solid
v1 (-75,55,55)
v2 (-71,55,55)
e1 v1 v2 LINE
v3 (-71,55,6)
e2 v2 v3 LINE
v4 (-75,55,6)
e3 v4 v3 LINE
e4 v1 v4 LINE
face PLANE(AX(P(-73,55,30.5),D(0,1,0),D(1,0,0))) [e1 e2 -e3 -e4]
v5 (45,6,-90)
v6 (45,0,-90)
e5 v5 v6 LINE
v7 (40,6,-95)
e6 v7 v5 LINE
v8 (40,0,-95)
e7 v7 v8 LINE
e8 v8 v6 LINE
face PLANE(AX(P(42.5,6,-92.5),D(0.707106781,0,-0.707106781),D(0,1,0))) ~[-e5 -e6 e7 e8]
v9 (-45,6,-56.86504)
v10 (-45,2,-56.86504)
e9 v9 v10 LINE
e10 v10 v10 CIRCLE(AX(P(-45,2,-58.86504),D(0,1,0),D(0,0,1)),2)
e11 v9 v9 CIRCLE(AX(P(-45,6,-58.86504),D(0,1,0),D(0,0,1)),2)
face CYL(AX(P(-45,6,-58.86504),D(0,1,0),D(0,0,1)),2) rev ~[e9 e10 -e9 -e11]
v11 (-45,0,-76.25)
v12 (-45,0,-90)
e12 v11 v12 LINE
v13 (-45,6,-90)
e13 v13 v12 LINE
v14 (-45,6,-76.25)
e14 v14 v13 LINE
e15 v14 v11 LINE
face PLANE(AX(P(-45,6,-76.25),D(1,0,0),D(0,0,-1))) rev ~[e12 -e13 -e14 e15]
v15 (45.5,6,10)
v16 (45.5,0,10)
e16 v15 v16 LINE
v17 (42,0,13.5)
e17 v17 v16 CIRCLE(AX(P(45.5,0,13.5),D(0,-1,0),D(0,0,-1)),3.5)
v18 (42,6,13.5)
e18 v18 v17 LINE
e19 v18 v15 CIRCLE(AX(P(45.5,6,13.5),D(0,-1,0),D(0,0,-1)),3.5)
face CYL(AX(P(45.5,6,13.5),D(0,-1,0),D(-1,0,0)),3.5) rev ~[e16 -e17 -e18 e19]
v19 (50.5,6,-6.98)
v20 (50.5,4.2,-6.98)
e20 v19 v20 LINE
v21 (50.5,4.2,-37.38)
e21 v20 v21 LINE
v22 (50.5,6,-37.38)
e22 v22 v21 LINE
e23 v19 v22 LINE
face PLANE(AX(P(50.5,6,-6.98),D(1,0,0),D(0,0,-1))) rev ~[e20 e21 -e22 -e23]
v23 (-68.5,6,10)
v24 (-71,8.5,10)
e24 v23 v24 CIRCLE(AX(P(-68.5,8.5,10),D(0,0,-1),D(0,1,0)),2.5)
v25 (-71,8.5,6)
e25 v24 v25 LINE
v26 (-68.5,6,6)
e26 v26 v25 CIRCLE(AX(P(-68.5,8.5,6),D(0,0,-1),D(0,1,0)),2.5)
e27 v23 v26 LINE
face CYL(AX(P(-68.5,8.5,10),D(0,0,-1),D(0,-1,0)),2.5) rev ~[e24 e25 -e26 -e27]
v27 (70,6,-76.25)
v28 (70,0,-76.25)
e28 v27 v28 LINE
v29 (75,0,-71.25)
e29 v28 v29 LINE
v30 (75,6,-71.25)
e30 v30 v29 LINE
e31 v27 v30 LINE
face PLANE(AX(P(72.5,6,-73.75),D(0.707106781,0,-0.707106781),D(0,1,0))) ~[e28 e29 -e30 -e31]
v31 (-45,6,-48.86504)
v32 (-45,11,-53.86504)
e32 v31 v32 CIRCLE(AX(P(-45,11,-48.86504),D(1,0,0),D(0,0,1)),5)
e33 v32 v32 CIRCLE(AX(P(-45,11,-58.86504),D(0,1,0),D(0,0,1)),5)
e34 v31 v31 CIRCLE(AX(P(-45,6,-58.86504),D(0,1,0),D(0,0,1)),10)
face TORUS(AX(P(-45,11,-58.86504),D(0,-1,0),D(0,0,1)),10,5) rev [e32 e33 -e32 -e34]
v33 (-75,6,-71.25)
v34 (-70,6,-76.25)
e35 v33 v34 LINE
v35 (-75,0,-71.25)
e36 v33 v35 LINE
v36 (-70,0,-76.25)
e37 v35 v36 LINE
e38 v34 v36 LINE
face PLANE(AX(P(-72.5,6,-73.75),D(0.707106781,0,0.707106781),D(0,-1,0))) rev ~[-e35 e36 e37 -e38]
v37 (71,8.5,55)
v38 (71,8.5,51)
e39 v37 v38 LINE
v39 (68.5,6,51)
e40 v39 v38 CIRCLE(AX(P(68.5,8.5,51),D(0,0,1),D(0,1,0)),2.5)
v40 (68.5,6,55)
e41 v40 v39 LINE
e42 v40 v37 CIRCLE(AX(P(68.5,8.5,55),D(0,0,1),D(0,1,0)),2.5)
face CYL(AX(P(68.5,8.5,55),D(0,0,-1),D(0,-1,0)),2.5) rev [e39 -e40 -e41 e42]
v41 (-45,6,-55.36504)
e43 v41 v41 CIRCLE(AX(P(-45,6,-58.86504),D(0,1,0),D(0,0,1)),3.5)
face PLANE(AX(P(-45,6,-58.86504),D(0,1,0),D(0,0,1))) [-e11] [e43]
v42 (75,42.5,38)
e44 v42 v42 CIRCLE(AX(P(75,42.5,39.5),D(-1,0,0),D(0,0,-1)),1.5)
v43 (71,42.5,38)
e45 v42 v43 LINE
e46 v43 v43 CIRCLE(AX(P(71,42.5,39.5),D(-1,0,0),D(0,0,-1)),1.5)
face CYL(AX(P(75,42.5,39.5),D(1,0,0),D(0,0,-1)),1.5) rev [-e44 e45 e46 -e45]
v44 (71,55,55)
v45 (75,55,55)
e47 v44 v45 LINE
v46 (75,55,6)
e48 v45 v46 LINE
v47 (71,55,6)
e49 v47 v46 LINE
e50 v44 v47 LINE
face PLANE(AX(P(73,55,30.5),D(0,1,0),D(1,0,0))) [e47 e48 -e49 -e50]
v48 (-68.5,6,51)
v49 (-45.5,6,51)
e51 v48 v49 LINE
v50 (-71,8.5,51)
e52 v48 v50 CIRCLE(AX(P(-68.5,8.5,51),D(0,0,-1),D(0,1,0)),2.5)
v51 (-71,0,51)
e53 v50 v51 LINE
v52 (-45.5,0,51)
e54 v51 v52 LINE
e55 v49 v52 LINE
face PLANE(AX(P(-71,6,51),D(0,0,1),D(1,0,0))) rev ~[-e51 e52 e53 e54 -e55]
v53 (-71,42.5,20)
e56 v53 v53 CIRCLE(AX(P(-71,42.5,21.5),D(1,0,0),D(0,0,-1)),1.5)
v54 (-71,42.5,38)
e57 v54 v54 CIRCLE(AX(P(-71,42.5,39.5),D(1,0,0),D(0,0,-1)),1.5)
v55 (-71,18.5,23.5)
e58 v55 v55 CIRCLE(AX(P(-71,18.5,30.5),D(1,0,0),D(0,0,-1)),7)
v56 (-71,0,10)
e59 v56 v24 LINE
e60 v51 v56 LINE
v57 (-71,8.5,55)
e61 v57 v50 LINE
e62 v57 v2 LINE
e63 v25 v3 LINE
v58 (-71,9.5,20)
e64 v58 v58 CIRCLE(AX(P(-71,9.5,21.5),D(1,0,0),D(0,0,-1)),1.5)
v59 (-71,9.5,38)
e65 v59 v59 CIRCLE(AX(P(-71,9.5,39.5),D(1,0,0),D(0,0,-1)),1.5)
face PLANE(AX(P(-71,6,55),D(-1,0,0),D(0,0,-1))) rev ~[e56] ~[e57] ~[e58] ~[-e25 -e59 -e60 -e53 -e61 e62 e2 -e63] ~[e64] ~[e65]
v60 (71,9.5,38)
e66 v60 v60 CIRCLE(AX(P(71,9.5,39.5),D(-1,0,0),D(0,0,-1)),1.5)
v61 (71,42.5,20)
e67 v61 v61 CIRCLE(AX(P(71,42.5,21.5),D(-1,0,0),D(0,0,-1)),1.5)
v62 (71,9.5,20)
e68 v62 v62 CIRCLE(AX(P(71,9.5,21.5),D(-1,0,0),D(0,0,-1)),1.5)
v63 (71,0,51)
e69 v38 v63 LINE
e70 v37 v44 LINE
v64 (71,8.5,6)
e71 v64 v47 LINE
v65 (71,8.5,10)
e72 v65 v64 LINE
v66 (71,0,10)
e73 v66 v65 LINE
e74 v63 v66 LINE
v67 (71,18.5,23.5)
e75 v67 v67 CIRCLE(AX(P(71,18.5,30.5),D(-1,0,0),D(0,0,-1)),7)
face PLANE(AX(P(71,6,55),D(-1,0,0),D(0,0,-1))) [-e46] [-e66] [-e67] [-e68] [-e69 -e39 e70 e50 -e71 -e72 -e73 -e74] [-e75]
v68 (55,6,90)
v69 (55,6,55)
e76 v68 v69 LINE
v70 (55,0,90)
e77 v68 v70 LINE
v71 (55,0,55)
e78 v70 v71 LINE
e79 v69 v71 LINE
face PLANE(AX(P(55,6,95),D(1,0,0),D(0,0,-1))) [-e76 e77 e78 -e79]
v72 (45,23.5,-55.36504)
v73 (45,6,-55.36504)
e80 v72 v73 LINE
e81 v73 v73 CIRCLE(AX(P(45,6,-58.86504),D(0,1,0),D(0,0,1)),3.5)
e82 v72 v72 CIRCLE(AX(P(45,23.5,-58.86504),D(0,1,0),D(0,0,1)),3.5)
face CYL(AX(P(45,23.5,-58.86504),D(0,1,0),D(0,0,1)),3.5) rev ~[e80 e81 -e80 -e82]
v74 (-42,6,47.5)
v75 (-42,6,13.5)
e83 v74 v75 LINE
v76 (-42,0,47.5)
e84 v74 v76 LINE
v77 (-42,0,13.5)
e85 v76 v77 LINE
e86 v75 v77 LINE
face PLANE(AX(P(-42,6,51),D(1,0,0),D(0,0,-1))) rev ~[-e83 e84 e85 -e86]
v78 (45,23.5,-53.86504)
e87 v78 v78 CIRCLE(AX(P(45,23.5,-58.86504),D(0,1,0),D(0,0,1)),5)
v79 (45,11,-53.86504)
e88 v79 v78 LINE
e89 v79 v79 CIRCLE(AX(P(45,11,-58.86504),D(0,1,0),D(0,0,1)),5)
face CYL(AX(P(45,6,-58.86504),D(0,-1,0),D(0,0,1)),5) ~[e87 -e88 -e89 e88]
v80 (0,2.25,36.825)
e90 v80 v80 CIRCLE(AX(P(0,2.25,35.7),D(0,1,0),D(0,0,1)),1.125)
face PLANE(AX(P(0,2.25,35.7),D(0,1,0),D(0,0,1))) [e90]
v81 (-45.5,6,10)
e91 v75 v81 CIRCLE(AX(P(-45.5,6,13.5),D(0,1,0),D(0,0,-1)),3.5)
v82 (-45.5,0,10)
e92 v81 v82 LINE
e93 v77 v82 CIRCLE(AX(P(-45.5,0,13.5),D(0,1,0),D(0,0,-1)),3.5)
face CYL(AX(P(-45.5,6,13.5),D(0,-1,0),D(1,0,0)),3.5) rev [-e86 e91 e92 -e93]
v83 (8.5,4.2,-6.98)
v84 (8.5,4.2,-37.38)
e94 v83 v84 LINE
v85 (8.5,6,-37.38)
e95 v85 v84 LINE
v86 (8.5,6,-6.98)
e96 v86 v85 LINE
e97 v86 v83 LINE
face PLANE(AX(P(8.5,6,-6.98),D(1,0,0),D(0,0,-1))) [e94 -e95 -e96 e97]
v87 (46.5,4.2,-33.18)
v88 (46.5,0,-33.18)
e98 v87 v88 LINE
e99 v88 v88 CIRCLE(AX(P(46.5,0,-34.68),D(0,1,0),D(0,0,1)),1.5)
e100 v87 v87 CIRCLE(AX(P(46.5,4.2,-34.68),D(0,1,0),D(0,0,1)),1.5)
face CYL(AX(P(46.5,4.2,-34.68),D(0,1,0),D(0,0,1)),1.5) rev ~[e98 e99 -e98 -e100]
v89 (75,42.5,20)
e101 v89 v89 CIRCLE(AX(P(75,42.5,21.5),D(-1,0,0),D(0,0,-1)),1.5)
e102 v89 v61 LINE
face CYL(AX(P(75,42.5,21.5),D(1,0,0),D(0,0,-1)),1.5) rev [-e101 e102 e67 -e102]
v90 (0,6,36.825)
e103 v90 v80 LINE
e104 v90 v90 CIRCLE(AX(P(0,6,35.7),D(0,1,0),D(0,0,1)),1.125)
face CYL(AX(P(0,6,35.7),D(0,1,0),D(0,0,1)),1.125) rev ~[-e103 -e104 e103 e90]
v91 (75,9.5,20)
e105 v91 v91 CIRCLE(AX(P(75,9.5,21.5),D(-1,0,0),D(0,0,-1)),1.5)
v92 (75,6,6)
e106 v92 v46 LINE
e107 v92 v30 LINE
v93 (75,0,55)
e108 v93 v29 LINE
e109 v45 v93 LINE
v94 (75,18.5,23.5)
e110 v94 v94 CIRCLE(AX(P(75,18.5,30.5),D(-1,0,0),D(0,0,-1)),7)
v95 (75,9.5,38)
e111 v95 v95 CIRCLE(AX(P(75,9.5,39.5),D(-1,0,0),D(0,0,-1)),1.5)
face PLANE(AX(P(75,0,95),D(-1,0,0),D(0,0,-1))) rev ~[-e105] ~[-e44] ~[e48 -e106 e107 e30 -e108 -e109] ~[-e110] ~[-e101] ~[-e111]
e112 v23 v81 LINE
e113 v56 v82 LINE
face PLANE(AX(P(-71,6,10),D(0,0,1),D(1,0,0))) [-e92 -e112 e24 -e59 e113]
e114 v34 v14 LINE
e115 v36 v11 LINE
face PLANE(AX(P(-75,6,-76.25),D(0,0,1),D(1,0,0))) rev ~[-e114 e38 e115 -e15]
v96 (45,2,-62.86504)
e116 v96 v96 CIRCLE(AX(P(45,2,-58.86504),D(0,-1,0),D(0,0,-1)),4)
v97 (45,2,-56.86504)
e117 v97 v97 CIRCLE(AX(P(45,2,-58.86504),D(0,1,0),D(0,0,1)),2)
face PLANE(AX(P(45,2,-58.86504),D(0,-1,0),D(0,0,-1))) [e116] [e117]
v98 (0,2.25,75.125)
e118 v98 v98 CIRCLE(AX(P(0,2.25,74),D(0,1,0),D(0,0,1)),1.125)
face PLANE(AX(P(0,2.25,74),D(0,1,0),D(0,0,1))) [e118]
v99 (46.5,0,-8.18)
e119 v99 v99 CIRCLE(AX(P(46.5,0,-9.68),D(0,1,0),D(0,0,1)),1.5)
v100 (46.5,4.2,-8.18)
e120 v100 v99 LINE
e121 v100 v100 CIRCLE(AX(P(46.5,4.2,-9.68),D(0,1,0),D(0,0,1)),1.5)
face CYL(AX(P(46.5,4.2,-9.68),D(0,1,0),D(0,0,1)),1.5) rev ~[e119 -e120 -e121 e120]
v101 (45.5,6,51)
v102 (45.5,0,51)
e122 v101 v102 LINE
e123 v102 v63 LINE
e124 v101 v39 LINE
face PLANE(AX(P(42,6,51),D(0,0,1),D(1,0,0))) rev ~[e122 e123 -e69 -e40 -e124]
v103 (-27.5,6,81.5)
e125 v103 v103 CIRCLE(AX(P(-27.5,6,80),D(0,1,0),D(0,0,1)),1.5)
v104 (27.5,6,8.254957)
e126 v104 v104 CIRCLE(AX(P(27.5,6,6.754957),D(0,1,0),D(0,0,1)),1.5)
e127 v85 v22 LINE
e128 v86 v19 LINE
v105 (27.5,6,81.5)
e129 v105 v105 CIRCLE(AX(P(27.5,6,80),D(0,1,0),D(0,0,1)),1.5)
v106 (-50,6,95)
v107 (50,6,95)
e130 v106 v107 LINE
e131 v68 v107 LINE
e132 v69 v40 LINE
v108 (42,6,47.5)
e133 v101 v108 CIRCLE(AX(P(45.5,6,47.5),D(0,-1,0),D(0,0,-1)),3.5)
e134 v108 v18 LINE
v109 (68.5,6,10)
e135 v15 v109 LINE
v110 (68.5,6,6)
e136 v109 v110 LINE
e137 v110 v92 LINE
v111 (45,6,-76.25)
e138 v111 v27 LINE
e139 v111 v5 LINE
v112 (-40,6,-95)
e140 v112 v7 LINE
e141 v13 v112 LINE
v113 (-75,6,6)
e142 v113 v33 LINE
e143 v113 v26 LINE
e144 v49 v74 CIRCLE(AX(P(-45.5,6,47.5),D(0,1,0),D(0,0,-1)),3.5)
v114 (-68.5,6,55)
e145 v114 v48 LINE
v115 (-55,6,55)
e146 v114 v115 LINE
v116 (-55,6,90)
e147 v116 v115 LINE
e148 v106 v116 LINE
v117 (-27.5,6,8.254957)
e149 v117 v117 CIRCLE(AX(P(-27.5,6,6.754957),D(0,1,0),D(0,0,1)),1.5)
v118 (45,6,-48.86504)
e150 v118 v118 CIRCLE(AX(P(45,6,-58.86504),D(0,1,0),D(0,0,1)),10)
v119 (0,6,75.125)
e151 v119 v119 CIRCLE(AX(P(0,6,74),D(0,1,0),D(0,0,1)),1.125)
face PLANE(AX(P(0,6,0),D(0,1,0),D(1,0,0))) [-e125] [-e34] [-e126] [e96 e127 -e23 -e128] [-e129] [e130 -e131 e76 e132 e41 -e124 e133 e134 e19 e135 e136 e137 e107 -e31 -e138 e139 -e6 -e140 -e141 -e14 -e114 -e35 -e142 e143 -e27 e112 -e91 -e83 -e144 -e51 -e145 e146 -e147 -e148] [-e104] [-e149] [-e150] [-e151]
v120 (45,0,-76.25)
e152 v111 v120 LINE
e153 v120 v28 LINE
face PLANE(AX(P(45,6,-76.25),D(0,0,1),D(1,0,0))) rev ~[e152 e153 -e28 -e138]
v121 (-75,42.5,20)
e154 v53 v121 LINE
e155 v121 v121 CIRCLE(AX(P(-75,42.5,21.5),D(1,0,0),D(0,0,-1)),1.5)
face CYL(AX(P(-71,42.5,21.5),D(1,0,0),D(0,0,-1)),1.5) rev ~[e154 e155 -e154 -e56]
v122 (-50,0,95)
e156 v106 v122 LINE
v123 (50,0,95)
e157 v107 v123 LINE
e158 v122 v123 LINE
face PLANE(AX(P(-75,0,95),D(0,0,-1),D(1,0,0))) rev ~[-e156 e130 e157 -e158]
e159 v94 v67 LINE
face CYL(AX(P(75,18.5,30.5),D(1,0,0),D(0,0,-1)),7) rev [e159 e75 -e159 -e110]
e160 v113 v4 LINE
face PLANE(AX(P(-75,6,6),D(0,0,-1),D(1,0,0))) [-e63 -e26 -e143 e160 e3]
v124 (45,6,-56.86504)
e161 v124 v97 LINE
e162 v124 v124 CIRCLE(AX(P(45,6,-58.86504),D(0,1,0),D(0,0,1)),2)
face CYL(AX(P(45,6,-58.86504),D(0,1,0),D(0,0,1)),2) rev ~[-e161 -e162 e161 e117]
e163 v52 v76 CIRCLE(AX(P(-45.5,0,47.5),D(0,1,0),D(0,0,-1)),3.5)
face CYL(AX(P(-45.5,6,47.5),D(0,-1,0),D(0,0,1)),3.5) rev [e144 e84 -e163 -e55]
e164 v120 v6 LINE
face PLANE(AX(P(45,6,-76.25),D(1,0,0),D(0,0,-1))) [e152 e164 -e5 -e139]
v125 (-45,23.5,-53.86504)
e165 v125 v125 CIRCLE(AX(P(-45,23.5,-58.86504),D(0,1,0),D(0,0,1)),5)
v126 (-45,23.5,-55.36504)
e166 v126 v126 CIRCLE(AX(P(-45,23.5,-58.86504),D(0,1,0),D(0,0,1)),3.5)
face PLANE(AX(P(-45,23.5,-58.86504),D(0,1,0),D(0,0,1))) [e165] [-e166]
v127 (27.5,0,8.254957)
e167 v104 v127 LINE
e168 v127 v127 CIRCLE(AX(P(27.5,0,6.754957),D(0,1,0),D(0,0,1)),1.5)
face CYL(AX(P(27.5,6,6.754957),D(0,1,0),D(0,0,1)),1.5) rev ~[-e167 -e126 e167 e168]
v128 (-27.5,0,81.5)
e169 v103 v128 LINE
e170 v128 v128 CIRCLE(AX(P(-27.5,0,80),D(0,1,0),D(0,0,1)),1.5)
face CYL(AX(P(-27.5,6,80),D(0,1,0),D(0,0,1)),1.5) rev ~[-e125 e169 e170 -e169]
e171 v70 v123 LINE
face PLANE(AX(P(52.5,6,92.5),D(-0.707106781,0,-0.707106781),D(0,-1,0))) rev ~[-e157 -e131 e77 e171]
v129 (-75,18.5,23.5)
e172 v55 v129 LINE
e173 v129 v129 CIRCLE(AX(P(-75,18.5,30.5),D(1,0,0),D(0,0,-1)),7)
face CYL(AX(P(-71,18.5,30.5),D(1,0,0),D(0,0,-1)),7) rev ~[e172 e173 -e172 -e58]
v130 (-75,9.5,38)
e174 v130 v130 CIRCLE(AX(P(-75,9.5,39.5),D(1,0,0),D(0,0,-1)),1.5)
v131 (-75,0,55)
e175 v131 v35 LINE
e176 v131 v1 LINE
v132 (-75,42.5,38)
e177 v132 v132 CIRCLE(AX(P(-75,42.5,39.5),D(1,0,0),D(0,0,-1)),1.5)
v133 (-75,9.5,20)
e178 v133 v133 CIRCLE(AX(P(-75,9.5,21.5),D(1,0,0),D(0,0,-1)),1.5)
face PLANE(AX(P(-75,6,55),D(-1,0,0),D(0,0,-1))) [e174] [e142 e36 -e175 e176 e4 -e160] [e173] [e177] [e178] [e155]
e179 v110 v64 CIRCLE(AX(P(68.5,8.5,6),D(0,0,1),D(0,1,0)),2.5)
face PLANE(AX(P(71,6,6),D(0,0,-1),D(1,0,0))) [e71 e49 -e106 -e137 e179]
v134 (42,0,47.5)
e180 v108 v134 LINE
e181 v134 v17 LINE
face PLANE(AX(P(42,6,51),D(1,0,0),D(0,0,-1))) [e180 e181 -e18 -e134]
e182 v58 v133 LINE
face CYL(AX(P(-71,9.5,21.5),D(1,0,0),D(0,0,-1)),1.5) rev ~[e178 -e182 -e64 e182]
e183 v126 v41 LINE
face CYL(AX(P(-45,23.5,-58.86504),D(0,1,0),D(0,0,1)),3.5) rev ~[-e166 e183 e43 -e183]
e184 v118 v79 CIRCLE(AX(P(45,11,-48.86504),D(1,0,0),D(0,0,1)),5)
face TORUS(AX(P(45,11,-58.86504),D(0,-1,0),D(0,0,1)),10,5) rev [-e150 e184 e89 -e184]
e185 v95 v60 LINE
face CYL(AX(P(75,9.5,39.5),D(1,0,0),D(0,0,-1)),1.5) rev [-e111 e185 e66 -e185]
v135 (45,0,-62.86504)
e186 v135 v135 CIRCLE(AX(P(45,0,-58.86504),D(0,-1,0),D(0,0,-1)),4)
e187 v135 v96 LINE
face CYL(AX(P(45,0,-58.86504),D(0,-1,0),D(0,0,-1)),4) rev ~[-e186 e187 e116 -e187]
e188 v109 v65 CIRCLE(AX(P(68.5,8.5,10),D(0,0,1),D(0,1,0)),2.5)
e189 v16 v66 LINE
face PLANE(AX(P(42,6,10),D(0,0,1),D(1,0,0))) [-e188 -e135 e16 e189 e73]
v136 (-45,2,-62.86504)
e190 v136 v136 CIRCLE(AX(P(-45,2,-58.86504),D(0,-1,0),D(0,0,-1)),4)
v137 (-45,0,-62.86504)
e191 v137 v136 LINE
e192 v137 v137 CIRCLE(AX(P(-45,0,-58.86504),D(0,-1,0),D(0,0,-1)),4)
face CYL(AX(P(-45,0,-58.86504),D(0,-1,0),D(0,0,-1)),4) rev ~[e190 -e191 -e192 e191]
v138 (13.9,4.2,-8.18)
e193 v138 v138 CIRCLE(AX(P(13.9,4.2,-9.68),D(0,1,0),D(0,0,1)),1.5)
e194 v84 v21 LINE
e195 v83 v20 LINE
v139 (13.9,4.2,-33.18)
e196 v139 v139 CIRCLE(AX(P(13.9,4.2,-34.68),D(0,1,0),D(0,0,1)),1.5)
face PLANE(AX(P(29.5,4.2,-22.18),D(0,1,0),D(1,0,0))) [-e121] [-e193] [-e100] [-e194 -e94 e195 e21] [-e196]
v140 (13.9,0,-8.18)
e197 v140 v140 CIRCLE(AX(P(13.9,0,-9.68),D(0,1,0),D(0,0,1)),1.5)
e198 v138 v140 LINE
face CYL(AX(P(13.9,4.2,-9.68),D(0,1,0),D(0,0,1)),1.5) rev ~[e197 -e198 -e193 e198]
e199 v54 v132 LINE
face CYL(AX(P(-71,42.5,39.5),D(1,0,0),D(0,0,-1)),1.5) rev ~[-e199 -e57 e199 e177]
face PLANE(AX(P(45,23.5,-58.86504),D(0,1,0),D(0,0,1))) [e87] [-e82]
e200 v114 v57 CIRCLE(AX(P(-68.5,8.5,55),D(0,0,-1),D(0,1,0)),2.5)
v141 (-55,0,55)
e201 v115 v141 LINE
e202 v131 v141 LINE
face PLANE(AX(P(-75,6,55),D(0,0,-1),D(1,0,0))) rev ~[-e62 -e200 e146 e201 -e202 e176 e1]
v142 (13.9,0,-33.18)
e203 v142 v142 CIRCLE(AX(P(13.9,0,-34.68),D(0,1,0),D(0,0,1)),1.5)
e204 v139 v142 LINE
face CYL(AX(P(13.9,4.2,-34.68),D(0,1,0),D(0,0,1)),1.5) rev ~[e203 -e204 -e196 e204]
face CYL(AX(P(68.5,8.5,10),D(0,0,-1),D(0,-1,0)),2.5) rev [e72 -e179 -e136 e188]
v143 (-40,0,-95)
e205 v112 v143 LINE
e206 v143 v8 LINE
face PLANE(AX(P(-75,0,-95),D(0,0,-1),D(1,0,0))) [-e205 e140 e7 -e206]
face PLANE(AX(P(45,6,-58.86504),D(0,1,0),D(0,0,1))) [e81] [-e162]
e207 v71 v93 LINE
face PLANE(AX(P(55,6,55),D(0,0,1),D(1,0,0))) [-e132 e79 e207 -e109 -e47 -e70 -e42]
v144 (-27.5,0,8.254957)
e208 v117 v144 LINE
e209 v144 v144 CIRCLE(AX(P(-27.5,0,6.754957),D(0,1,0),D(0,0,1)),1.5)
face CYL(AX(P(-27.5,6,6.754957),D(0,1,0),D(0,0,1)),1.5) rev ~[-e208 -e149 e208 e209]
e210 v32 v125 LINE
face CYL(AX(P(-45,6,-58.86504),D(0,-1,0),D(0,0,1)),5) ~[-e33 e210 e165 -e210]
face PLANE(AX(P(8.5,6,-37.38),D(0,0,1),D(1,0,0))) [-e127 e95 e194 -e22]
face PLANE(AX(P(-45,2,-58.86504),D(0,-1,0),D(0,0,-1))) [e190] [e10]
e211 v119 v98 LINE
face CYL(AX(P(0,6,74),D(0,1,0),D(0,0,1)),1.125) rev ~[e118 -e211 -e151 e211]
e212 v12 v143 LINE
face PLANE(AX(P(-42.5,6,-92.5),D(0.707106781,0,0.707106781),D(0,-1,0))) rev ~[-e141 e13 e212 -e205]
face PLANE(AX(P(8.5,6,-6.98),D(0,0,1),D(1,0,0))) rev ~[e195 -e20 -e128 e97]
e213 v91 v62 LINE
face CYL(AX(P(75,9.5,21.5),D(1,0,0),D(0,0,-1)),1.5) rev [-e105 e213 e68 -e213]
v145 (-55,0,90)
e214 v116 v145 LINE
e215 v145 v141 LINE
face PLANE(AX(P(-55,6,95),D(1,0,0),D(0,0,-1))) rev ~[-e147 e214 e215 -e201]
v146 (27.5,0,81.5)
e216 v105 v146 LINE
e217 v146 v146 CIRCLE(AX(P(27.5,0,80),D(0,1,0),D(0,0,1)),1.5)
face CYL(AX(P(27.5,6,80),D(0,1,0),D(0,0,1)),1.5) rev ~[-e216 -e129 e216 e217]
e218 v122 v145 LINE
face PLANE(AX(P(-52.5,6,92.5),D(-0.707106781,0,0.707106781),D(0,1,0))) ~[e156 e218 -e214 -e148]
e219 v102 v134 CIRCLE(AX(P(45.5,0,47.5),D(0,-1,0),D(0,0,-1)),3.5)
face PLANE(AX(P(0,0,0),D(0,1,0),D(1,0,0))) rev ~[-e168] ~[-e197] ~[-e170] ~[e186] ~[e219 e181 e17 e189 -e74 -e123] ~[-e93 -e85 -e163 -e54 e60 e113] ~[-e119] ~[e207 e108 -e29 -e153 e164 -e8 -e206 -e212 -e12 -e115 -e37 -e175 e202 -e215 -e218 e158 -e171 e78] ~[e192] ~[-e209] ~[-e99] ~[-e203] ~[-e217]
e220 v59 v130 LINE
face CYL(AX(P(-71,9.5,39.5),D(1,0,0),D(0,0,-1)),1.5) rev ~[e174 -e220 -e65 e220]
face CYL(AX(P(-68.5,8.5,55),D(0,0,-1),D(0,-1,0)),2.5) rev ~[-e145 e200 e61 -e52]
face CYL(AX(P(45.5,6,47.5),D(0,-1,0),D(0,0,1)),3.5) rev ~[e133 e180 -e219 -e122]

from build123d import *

# Parameters (mm, degrees)
SKETCH1_W                        = 150
SKETCH1_H                        = 190
BOSS_EXTRUDE1_DEPTH              = 6
SKETCH2_W                        = 30
SKETCH2_H                        = 18.75
CUT_EXTRUDE1_DEPTH               = 6
CHAMFER1_SIZE                    = 5
SKETCH3_W                        = 20
SKETCH3_H                        = 40
CUT_EXTRUDE2_DEPTH               = 6
SKETCH5_R                        = 1.125
CUT_EXTRUDE4_DEPTH               = 3.75
SKETCH9_R                        = 5
POLE_SUPPORTS_DEPTH              = 17.5
FILLET1_R                        = 5
SKETCH10_R                       = 3.5
POLE_SUPPORT_HOLE_LEFT_DEPTH     = 17.5
SKETCH11_R                       = 3.5
POLE_SUPPORT_HOLE_RIGHT_DEPTH    = 17.5
SKETCH12_R                       = 2
POLE_SUPPORT_SCREW_DEPTH         = 6
SKETCH13_W                       = 42
SKETCH13_H                       = 30.4
PULLEY_MOUNT_DEPTH               = 1.8
SKETCH15_R                       = 1.5
PULLEY_MOUNT_SCREWS_DEPTH        = 4.7
SKETCH16_W                       = 4
SKETCH16_H                       = 49
MOTOR_MOUNTS_DEPTH               = 49
SKETCH17_R                       = 7
SKETCH17_R_2                     = 1.5
MOTOR_MOUNTING_HOLES_LEFT_DEPTH  = 4
SKETCH18_W                       = 29
SKETCH18_H                       = 41
MOTOR_CUTOUT_LEFT_DEPTH          = 6.5
FILLET2_R                        = 2.5
MOTOR_START                      = -4
SKETCH20_R                       = 7
SKETCH20_R_2                     = 1.5
MOTOR_MOUNTING_HOLES_RIGHT_DEPTH = 4
SKETCH21_W                       = 29
SKETCH21_H                       = 41
MOTOR_CUTOUT_RIGHT_DEPTH         = 6
FILLET3_R                        = 2.5
SKETCH23_R                       = 1.5
ARDUINO_MOUNTING_HOLES_DEPTH     = 6
SKETCH24_R                       = 4
CUT_EXTRUDE20_DEPTH              = 2
CHAMFER2_SIZE                    = 5
FILLET4_R                        = 3.5


with BuildPart() as part:
    # Sketch1 → Boss-Extrude1 (new body)
    with BuildSketch(Plane(origin=(0, 0, 0), x_dir=(1, 0, 0), z_dir=(0, 1, 0))):
        Rectangle(SKETCH1_W, SKETCH1_H)
    extrude(amount=BOSS_EXTRUDE1_DEPTH)

    # Sketch2 → Cut-Extrude1 (cut)
    with BuildSketch(Plane(origin=(0, 6, 0), x_dir=(1, 0, 0), z_dir=(0, 1, 0))):
        with Locations((-60, 85.625)):
            Rectangle(SKETCH2_W, SKETCH2_H)
        with Locations((60, 85.625)):
            Rectangle(SKETCH2_W, SKETCH2_H)
    extrude(amount=-CUT_EXTRUDE1_DEPTH, mode=Mode.SUBTRACT)

    # Chamfer1
    chamfer1_edges = [part.edges().sort_by_distance(p)[0] for p in [
        (-75, 3, -76.25),
        (-45, 3, -95),
        (75, 3, -76.25),
        (45, 3, -95),
    ]]
    chamfer(chamfer1_edges, length=CHAMFER1_SIZE)

    # Sketch3 → Cut-Extrude2 (cut)
    with BuildSketch(Plane(origin=(0, 6, 0), x_dir=(1, 0, 0), z_dir=(0, 1, 0))):
        with Locations((-65, -75)):
            Rectangle(SKETCH3_W, SKETCH3_H)
        with Locations((65, -75)):
            Rectangle(SKETCH3_W, SKETCH3_H)
    extrude(amount=-CUT_EXTRUDE2_DEPTH, mode=Mode.SUBTRACT)

    # Sketch5 → Cut-Extrude4 (cut)
    with BuildSketch(Plane(origin=(0, 6, 0), x_dir=(1, 0, 0), z_dir=(0, 1, 0))):
        with Locations(Location((0, -74, 0), (0, 0, 270))):
            Circle(SKETCH5_R)
        with Locations(Location((0, -35.7, 0), (0, 0, 270))):
            Circle(SKETCH5_R)
    extrude(amount=-CUT_EXTRUDE4_DEPTH, mode=Mode.SUBTRACT)

    # Sketch9 → Pole supports (add)
    with BuildSketch(Plane(origin=(0, 6, 0), x_dir=(1, 0, 0), z_dir=(0, 1, 0))):
        with Locations(Location((-45, 58.865040338, 0), (0, 0, 270))):
            Circle(SKETCH9_R)
        with Locations(Location((45, 58.865040338, 0), (0, 0, 270))):
            Circle(SKETCH9_R)
    extrude(amount=POLE_SUPPORTS_DEPTH)

    # Fillet1
    fillet1_edges = [part.edges().sort_by_distance(p)[0] for p in [
        (-45, 6, -63.865040338),
        (45, 6, -63.865040338),
    ]]
    fillet(fillet1_edges, radius=FILLET1_R)

    # Sketch10 → Pole support hole - left (cut)
    with BuildSketch(Plane(origin=(0, 23.5, 0), x_dir=(1, 0, 0), z_dir=(0, 1, 0))):
        with Locations(Location((-45, 58.865040338, 0), (0, 0, 270))):
            Circle(SKETCH10_R)
    extrude(amount=-POLE_SUPPORT_HOLE_LEFT_DEPTH, mode=Mode.SUBTRACT)

    # Sketch11 → Pole support hole - right (cut)
    with BuildSketch(Plane(origin=(0, 23.5, 0), x_dir=(1, 0, 0), z_dir=(0, 1, 0))):
        with Locations(Location((45, 58.865040338, 0), (0, 0, 270))):
            Circle(SKETCH11_R)
    extrude(amount=-POLE_SUPPORT_HOLE_RIGHT_DEPTH, mode=Mode.SUBTRACT)

    # Sketch12 → Pole support screw (cut)
    with BuildSketch(Plane(origin=(0, 6, 0), x_dir=(1, 0, 0), z_dir=(0, 1, 0))):
        with Locations(Location((-45, 58.865040338, 0), (0, 0, 270))):
            Circle(SKETCH12_R)
        with Locations(Location((45, 58.865040338, 0), (0, 0, 270))):
            Circle(SKETCH12_R)
    extrude(amount=-POLE_SUPPORT_SCREW_DEPTH, mode=Mode.SUBTRACT)

    # Sketch13 → Pulley mount (cut)
    with BuildSketch(Plane(origin=(0, 6, 0), x_dir=(1, 0, 0), z_dir=(0, 1, 0))):
        with Locations((29.5, 22.18)):
            Rectangle(SKETCH13_W, SKETCH13_H)
    extrude(amount=-PULLEY_MOUNT_DEPTH, mode=Mode.SUBTRACT)

    # Sketch15 → Pulley mount screws (cut)
    with BuildSketch(Plane(origin=(0, 4.2, 0), x_dir=(1, 0, 0), z_dir=(0, 1, 0))):
        with Locations(Location((13.9, 34.68, 0), (0, 0, 270))):
            Circle(SKETCH15_R)
        with Locations(Location((46.5, 34.68, 0), (0, 0, 270))):
            Circle(SKETCH15_R)
        with Locations(Location((46.5, 9.68, 0), (0, 0, 270))):
            Circle(SKETCH15_R)
        with Locations(Location((13.9, 9.68, 0), (0, 0, 270))):
            Circle(SKETCH15_R)
    extrude(amount=-PULLEY_MOUNT_SCREWS_DEPTH, mode=Mode.SUBTRACT)

    # Sketch16 → Motor mounts (add)
    with BuildSketch(Plane(origin=(0, 6, 0), x_dir=(1, 0, 0), z_dir=(0, 1, 0))):
        with Locations((-73, -30.5)):
            Rectangle(SKETCH16_W, SKETCH16_H)
        with Locations((73, -30.5)):
            Rectangle(SKETCH16_W, SKETCH16_H)
    extrude(amount=MOTOR_MOUNTS_DEPTH)

    # Sketch17 → Motor mounting holes - left (cut)
    with BuildSketch(Plane(origin=(-71, 0, 0), x_dir=(0, 0, -1), z_dir=(1, 0, 0))):
        with Locations((-30.5, 18.5)):
            Circle(SKETCH17_R)
        with Locations((-39.5, 9.5)):
            Circle(SKETCH17_R_2)
        with Locations((-21.5, 9.5)):
            Circle(SKETCH17_R_2)
        with Locations((-39.5, 42.5)):
            Circle(SKETCH17_R_2)
        with Locations((-21.5, 42.5)):
            Circle(SKETCH17_R_2)
    extrude(amount=-MOTOR_MOUNTING_HOLES_LEFT_DEPTH, mode=Mode.SUBTRACT)

    # Sketch18 → Motor cutout - left (cut)
    with BuildSketch(Plane(origin=(0, 6, 0), x_dir=(1, 0, 0), z_dir=(0, 1, 0))):
        with Locations((-56.5, -30.5)):
            Rectangle(SKETCH18_W, SKETCH18_H)
    extrude(amount=-MOTOR_CUTOUT_LEFT_DEPTH, mode=Mode.SUBTRACT)

    # Fillet2
    fillet2_edges = [part.edges().sort_by_distance(p)[0] for p in [
        (-71, 6, 53),
        (-71, 6, 8),
    ]]
    fillet(fillet2_edges, radius=FILLET2_R)

    # Sketch20 → Motor mounting holes - right (cut)
    with BuildSketch(Plane.ZY.offset(-71).offset(MOTOR_START)):
        with Locations(Location((30.5, 18.5, 0), (0, 0, 180))):
            Circle(SKETCH20_R)
        with Locations(Location((21.5, 9.5, 0), (0, 0, 180))):
            Circle(SKETCH20_R_2)
        with Locations(Location((39.5, 9.5, 0), (0, 0, 180))):
            Circle(SKETCH20_R_2)
        with Locations(Location((21.5, 42.5, 0), (0, 0, 180))):
            Circle(SKETCH20_R_2)
        with Locations(Location((39.5, 42.5, 0), (0, 0, 180))):
            Circle(SKETCH20_R_2)
    extrude(amount=MOTOR_MOUNTING_HOLES_RIGHT_DEPTH, mode=Mode.SUBTRACT)

    # Sketch21 → Motor cutout - right (cut)
    with BuildSketch(Plane(origin=(0, 6, 0), x_dir=(1, 0, 0), z_dir=(0, 1, 0))):
        with Locations((56.5, -30.5)):
            Rectangle(SKETCH21_W, SKETCH21_H)
    extrude(amount=-MOTOR_CUTOUT_RIGHT_DEPTH, mode=Mode.SUBTRACT)

    # Fillet3
    fillet3_edges = [part.edges().sort_by_distance(p)[0] for p in [
        (71, 6, 8),
        (71, 6, 53),
    ]]
    fillet(fillet3_edges, radius=FILLET3_R)

    # Sketch23 → Arduino mounting holes (cut)
    with BuildSketch(Plane(origin=(0, 6, 0), x_dir=(1, 0, 0), z_dir=(0, 1, 0))):
        with Locations(Location((-27.5, -6.754956847, 0), (0, 0, 270))):
            Circle(SKETCH23_R)
        with Locations(Location((27.5, -6.754956847, 0), (0, 0, 270))):
            Circle(SKETCH23_R)
        with Locations(Location((-27.5, -80, 0), (0, 0, 270))):
            Circle(SKETCH23_R)
        with Locations(Location((27.5, -80, 0), (0, 0, 270))):
            Circle(SKETCH23_R)
    extrude(amount=-ARDUINO_MOUNTING_HOLES_DEPTH, mode=Mode.SUBTRACT)

    # Sketch24 → Cut-Extrude20 (cut)
    with BuildSketch(Plane.XZ):
        with Locations(Location((45, -58.865040338, 0), (0, 0, 270))):
            Circle(SKETCH24_R)
        with Locations(Location((-45, -58.865040338, 0), (0, 0, 270))):
            Circle(SKETCH24_R)
    extrude(amount=-CUT_EXTRUDE20_DEPTH, mode=Mode.SUBTRACT)

    # Chamfer2
    chamfer2_edges = [part.edges().sort_by_distance(p)[0] for p in [
        (-55, 3, 95),
        (55, 3, 95),
    ]]
    chamfer(chamfer2_edges, length=CHAMFER2_SIZE)

    # Fillet4
    fillet4_edges = [part.edges().sort_by_distance(p)[0] for p in [
        (-42, 3, 10),
        (-42, 3, 51),
        (42, 3, 51),
        (42, 3, 10),
    ]]
    fillet(fillet4_edges, radius=FILLET4_R)


solid = part.part
